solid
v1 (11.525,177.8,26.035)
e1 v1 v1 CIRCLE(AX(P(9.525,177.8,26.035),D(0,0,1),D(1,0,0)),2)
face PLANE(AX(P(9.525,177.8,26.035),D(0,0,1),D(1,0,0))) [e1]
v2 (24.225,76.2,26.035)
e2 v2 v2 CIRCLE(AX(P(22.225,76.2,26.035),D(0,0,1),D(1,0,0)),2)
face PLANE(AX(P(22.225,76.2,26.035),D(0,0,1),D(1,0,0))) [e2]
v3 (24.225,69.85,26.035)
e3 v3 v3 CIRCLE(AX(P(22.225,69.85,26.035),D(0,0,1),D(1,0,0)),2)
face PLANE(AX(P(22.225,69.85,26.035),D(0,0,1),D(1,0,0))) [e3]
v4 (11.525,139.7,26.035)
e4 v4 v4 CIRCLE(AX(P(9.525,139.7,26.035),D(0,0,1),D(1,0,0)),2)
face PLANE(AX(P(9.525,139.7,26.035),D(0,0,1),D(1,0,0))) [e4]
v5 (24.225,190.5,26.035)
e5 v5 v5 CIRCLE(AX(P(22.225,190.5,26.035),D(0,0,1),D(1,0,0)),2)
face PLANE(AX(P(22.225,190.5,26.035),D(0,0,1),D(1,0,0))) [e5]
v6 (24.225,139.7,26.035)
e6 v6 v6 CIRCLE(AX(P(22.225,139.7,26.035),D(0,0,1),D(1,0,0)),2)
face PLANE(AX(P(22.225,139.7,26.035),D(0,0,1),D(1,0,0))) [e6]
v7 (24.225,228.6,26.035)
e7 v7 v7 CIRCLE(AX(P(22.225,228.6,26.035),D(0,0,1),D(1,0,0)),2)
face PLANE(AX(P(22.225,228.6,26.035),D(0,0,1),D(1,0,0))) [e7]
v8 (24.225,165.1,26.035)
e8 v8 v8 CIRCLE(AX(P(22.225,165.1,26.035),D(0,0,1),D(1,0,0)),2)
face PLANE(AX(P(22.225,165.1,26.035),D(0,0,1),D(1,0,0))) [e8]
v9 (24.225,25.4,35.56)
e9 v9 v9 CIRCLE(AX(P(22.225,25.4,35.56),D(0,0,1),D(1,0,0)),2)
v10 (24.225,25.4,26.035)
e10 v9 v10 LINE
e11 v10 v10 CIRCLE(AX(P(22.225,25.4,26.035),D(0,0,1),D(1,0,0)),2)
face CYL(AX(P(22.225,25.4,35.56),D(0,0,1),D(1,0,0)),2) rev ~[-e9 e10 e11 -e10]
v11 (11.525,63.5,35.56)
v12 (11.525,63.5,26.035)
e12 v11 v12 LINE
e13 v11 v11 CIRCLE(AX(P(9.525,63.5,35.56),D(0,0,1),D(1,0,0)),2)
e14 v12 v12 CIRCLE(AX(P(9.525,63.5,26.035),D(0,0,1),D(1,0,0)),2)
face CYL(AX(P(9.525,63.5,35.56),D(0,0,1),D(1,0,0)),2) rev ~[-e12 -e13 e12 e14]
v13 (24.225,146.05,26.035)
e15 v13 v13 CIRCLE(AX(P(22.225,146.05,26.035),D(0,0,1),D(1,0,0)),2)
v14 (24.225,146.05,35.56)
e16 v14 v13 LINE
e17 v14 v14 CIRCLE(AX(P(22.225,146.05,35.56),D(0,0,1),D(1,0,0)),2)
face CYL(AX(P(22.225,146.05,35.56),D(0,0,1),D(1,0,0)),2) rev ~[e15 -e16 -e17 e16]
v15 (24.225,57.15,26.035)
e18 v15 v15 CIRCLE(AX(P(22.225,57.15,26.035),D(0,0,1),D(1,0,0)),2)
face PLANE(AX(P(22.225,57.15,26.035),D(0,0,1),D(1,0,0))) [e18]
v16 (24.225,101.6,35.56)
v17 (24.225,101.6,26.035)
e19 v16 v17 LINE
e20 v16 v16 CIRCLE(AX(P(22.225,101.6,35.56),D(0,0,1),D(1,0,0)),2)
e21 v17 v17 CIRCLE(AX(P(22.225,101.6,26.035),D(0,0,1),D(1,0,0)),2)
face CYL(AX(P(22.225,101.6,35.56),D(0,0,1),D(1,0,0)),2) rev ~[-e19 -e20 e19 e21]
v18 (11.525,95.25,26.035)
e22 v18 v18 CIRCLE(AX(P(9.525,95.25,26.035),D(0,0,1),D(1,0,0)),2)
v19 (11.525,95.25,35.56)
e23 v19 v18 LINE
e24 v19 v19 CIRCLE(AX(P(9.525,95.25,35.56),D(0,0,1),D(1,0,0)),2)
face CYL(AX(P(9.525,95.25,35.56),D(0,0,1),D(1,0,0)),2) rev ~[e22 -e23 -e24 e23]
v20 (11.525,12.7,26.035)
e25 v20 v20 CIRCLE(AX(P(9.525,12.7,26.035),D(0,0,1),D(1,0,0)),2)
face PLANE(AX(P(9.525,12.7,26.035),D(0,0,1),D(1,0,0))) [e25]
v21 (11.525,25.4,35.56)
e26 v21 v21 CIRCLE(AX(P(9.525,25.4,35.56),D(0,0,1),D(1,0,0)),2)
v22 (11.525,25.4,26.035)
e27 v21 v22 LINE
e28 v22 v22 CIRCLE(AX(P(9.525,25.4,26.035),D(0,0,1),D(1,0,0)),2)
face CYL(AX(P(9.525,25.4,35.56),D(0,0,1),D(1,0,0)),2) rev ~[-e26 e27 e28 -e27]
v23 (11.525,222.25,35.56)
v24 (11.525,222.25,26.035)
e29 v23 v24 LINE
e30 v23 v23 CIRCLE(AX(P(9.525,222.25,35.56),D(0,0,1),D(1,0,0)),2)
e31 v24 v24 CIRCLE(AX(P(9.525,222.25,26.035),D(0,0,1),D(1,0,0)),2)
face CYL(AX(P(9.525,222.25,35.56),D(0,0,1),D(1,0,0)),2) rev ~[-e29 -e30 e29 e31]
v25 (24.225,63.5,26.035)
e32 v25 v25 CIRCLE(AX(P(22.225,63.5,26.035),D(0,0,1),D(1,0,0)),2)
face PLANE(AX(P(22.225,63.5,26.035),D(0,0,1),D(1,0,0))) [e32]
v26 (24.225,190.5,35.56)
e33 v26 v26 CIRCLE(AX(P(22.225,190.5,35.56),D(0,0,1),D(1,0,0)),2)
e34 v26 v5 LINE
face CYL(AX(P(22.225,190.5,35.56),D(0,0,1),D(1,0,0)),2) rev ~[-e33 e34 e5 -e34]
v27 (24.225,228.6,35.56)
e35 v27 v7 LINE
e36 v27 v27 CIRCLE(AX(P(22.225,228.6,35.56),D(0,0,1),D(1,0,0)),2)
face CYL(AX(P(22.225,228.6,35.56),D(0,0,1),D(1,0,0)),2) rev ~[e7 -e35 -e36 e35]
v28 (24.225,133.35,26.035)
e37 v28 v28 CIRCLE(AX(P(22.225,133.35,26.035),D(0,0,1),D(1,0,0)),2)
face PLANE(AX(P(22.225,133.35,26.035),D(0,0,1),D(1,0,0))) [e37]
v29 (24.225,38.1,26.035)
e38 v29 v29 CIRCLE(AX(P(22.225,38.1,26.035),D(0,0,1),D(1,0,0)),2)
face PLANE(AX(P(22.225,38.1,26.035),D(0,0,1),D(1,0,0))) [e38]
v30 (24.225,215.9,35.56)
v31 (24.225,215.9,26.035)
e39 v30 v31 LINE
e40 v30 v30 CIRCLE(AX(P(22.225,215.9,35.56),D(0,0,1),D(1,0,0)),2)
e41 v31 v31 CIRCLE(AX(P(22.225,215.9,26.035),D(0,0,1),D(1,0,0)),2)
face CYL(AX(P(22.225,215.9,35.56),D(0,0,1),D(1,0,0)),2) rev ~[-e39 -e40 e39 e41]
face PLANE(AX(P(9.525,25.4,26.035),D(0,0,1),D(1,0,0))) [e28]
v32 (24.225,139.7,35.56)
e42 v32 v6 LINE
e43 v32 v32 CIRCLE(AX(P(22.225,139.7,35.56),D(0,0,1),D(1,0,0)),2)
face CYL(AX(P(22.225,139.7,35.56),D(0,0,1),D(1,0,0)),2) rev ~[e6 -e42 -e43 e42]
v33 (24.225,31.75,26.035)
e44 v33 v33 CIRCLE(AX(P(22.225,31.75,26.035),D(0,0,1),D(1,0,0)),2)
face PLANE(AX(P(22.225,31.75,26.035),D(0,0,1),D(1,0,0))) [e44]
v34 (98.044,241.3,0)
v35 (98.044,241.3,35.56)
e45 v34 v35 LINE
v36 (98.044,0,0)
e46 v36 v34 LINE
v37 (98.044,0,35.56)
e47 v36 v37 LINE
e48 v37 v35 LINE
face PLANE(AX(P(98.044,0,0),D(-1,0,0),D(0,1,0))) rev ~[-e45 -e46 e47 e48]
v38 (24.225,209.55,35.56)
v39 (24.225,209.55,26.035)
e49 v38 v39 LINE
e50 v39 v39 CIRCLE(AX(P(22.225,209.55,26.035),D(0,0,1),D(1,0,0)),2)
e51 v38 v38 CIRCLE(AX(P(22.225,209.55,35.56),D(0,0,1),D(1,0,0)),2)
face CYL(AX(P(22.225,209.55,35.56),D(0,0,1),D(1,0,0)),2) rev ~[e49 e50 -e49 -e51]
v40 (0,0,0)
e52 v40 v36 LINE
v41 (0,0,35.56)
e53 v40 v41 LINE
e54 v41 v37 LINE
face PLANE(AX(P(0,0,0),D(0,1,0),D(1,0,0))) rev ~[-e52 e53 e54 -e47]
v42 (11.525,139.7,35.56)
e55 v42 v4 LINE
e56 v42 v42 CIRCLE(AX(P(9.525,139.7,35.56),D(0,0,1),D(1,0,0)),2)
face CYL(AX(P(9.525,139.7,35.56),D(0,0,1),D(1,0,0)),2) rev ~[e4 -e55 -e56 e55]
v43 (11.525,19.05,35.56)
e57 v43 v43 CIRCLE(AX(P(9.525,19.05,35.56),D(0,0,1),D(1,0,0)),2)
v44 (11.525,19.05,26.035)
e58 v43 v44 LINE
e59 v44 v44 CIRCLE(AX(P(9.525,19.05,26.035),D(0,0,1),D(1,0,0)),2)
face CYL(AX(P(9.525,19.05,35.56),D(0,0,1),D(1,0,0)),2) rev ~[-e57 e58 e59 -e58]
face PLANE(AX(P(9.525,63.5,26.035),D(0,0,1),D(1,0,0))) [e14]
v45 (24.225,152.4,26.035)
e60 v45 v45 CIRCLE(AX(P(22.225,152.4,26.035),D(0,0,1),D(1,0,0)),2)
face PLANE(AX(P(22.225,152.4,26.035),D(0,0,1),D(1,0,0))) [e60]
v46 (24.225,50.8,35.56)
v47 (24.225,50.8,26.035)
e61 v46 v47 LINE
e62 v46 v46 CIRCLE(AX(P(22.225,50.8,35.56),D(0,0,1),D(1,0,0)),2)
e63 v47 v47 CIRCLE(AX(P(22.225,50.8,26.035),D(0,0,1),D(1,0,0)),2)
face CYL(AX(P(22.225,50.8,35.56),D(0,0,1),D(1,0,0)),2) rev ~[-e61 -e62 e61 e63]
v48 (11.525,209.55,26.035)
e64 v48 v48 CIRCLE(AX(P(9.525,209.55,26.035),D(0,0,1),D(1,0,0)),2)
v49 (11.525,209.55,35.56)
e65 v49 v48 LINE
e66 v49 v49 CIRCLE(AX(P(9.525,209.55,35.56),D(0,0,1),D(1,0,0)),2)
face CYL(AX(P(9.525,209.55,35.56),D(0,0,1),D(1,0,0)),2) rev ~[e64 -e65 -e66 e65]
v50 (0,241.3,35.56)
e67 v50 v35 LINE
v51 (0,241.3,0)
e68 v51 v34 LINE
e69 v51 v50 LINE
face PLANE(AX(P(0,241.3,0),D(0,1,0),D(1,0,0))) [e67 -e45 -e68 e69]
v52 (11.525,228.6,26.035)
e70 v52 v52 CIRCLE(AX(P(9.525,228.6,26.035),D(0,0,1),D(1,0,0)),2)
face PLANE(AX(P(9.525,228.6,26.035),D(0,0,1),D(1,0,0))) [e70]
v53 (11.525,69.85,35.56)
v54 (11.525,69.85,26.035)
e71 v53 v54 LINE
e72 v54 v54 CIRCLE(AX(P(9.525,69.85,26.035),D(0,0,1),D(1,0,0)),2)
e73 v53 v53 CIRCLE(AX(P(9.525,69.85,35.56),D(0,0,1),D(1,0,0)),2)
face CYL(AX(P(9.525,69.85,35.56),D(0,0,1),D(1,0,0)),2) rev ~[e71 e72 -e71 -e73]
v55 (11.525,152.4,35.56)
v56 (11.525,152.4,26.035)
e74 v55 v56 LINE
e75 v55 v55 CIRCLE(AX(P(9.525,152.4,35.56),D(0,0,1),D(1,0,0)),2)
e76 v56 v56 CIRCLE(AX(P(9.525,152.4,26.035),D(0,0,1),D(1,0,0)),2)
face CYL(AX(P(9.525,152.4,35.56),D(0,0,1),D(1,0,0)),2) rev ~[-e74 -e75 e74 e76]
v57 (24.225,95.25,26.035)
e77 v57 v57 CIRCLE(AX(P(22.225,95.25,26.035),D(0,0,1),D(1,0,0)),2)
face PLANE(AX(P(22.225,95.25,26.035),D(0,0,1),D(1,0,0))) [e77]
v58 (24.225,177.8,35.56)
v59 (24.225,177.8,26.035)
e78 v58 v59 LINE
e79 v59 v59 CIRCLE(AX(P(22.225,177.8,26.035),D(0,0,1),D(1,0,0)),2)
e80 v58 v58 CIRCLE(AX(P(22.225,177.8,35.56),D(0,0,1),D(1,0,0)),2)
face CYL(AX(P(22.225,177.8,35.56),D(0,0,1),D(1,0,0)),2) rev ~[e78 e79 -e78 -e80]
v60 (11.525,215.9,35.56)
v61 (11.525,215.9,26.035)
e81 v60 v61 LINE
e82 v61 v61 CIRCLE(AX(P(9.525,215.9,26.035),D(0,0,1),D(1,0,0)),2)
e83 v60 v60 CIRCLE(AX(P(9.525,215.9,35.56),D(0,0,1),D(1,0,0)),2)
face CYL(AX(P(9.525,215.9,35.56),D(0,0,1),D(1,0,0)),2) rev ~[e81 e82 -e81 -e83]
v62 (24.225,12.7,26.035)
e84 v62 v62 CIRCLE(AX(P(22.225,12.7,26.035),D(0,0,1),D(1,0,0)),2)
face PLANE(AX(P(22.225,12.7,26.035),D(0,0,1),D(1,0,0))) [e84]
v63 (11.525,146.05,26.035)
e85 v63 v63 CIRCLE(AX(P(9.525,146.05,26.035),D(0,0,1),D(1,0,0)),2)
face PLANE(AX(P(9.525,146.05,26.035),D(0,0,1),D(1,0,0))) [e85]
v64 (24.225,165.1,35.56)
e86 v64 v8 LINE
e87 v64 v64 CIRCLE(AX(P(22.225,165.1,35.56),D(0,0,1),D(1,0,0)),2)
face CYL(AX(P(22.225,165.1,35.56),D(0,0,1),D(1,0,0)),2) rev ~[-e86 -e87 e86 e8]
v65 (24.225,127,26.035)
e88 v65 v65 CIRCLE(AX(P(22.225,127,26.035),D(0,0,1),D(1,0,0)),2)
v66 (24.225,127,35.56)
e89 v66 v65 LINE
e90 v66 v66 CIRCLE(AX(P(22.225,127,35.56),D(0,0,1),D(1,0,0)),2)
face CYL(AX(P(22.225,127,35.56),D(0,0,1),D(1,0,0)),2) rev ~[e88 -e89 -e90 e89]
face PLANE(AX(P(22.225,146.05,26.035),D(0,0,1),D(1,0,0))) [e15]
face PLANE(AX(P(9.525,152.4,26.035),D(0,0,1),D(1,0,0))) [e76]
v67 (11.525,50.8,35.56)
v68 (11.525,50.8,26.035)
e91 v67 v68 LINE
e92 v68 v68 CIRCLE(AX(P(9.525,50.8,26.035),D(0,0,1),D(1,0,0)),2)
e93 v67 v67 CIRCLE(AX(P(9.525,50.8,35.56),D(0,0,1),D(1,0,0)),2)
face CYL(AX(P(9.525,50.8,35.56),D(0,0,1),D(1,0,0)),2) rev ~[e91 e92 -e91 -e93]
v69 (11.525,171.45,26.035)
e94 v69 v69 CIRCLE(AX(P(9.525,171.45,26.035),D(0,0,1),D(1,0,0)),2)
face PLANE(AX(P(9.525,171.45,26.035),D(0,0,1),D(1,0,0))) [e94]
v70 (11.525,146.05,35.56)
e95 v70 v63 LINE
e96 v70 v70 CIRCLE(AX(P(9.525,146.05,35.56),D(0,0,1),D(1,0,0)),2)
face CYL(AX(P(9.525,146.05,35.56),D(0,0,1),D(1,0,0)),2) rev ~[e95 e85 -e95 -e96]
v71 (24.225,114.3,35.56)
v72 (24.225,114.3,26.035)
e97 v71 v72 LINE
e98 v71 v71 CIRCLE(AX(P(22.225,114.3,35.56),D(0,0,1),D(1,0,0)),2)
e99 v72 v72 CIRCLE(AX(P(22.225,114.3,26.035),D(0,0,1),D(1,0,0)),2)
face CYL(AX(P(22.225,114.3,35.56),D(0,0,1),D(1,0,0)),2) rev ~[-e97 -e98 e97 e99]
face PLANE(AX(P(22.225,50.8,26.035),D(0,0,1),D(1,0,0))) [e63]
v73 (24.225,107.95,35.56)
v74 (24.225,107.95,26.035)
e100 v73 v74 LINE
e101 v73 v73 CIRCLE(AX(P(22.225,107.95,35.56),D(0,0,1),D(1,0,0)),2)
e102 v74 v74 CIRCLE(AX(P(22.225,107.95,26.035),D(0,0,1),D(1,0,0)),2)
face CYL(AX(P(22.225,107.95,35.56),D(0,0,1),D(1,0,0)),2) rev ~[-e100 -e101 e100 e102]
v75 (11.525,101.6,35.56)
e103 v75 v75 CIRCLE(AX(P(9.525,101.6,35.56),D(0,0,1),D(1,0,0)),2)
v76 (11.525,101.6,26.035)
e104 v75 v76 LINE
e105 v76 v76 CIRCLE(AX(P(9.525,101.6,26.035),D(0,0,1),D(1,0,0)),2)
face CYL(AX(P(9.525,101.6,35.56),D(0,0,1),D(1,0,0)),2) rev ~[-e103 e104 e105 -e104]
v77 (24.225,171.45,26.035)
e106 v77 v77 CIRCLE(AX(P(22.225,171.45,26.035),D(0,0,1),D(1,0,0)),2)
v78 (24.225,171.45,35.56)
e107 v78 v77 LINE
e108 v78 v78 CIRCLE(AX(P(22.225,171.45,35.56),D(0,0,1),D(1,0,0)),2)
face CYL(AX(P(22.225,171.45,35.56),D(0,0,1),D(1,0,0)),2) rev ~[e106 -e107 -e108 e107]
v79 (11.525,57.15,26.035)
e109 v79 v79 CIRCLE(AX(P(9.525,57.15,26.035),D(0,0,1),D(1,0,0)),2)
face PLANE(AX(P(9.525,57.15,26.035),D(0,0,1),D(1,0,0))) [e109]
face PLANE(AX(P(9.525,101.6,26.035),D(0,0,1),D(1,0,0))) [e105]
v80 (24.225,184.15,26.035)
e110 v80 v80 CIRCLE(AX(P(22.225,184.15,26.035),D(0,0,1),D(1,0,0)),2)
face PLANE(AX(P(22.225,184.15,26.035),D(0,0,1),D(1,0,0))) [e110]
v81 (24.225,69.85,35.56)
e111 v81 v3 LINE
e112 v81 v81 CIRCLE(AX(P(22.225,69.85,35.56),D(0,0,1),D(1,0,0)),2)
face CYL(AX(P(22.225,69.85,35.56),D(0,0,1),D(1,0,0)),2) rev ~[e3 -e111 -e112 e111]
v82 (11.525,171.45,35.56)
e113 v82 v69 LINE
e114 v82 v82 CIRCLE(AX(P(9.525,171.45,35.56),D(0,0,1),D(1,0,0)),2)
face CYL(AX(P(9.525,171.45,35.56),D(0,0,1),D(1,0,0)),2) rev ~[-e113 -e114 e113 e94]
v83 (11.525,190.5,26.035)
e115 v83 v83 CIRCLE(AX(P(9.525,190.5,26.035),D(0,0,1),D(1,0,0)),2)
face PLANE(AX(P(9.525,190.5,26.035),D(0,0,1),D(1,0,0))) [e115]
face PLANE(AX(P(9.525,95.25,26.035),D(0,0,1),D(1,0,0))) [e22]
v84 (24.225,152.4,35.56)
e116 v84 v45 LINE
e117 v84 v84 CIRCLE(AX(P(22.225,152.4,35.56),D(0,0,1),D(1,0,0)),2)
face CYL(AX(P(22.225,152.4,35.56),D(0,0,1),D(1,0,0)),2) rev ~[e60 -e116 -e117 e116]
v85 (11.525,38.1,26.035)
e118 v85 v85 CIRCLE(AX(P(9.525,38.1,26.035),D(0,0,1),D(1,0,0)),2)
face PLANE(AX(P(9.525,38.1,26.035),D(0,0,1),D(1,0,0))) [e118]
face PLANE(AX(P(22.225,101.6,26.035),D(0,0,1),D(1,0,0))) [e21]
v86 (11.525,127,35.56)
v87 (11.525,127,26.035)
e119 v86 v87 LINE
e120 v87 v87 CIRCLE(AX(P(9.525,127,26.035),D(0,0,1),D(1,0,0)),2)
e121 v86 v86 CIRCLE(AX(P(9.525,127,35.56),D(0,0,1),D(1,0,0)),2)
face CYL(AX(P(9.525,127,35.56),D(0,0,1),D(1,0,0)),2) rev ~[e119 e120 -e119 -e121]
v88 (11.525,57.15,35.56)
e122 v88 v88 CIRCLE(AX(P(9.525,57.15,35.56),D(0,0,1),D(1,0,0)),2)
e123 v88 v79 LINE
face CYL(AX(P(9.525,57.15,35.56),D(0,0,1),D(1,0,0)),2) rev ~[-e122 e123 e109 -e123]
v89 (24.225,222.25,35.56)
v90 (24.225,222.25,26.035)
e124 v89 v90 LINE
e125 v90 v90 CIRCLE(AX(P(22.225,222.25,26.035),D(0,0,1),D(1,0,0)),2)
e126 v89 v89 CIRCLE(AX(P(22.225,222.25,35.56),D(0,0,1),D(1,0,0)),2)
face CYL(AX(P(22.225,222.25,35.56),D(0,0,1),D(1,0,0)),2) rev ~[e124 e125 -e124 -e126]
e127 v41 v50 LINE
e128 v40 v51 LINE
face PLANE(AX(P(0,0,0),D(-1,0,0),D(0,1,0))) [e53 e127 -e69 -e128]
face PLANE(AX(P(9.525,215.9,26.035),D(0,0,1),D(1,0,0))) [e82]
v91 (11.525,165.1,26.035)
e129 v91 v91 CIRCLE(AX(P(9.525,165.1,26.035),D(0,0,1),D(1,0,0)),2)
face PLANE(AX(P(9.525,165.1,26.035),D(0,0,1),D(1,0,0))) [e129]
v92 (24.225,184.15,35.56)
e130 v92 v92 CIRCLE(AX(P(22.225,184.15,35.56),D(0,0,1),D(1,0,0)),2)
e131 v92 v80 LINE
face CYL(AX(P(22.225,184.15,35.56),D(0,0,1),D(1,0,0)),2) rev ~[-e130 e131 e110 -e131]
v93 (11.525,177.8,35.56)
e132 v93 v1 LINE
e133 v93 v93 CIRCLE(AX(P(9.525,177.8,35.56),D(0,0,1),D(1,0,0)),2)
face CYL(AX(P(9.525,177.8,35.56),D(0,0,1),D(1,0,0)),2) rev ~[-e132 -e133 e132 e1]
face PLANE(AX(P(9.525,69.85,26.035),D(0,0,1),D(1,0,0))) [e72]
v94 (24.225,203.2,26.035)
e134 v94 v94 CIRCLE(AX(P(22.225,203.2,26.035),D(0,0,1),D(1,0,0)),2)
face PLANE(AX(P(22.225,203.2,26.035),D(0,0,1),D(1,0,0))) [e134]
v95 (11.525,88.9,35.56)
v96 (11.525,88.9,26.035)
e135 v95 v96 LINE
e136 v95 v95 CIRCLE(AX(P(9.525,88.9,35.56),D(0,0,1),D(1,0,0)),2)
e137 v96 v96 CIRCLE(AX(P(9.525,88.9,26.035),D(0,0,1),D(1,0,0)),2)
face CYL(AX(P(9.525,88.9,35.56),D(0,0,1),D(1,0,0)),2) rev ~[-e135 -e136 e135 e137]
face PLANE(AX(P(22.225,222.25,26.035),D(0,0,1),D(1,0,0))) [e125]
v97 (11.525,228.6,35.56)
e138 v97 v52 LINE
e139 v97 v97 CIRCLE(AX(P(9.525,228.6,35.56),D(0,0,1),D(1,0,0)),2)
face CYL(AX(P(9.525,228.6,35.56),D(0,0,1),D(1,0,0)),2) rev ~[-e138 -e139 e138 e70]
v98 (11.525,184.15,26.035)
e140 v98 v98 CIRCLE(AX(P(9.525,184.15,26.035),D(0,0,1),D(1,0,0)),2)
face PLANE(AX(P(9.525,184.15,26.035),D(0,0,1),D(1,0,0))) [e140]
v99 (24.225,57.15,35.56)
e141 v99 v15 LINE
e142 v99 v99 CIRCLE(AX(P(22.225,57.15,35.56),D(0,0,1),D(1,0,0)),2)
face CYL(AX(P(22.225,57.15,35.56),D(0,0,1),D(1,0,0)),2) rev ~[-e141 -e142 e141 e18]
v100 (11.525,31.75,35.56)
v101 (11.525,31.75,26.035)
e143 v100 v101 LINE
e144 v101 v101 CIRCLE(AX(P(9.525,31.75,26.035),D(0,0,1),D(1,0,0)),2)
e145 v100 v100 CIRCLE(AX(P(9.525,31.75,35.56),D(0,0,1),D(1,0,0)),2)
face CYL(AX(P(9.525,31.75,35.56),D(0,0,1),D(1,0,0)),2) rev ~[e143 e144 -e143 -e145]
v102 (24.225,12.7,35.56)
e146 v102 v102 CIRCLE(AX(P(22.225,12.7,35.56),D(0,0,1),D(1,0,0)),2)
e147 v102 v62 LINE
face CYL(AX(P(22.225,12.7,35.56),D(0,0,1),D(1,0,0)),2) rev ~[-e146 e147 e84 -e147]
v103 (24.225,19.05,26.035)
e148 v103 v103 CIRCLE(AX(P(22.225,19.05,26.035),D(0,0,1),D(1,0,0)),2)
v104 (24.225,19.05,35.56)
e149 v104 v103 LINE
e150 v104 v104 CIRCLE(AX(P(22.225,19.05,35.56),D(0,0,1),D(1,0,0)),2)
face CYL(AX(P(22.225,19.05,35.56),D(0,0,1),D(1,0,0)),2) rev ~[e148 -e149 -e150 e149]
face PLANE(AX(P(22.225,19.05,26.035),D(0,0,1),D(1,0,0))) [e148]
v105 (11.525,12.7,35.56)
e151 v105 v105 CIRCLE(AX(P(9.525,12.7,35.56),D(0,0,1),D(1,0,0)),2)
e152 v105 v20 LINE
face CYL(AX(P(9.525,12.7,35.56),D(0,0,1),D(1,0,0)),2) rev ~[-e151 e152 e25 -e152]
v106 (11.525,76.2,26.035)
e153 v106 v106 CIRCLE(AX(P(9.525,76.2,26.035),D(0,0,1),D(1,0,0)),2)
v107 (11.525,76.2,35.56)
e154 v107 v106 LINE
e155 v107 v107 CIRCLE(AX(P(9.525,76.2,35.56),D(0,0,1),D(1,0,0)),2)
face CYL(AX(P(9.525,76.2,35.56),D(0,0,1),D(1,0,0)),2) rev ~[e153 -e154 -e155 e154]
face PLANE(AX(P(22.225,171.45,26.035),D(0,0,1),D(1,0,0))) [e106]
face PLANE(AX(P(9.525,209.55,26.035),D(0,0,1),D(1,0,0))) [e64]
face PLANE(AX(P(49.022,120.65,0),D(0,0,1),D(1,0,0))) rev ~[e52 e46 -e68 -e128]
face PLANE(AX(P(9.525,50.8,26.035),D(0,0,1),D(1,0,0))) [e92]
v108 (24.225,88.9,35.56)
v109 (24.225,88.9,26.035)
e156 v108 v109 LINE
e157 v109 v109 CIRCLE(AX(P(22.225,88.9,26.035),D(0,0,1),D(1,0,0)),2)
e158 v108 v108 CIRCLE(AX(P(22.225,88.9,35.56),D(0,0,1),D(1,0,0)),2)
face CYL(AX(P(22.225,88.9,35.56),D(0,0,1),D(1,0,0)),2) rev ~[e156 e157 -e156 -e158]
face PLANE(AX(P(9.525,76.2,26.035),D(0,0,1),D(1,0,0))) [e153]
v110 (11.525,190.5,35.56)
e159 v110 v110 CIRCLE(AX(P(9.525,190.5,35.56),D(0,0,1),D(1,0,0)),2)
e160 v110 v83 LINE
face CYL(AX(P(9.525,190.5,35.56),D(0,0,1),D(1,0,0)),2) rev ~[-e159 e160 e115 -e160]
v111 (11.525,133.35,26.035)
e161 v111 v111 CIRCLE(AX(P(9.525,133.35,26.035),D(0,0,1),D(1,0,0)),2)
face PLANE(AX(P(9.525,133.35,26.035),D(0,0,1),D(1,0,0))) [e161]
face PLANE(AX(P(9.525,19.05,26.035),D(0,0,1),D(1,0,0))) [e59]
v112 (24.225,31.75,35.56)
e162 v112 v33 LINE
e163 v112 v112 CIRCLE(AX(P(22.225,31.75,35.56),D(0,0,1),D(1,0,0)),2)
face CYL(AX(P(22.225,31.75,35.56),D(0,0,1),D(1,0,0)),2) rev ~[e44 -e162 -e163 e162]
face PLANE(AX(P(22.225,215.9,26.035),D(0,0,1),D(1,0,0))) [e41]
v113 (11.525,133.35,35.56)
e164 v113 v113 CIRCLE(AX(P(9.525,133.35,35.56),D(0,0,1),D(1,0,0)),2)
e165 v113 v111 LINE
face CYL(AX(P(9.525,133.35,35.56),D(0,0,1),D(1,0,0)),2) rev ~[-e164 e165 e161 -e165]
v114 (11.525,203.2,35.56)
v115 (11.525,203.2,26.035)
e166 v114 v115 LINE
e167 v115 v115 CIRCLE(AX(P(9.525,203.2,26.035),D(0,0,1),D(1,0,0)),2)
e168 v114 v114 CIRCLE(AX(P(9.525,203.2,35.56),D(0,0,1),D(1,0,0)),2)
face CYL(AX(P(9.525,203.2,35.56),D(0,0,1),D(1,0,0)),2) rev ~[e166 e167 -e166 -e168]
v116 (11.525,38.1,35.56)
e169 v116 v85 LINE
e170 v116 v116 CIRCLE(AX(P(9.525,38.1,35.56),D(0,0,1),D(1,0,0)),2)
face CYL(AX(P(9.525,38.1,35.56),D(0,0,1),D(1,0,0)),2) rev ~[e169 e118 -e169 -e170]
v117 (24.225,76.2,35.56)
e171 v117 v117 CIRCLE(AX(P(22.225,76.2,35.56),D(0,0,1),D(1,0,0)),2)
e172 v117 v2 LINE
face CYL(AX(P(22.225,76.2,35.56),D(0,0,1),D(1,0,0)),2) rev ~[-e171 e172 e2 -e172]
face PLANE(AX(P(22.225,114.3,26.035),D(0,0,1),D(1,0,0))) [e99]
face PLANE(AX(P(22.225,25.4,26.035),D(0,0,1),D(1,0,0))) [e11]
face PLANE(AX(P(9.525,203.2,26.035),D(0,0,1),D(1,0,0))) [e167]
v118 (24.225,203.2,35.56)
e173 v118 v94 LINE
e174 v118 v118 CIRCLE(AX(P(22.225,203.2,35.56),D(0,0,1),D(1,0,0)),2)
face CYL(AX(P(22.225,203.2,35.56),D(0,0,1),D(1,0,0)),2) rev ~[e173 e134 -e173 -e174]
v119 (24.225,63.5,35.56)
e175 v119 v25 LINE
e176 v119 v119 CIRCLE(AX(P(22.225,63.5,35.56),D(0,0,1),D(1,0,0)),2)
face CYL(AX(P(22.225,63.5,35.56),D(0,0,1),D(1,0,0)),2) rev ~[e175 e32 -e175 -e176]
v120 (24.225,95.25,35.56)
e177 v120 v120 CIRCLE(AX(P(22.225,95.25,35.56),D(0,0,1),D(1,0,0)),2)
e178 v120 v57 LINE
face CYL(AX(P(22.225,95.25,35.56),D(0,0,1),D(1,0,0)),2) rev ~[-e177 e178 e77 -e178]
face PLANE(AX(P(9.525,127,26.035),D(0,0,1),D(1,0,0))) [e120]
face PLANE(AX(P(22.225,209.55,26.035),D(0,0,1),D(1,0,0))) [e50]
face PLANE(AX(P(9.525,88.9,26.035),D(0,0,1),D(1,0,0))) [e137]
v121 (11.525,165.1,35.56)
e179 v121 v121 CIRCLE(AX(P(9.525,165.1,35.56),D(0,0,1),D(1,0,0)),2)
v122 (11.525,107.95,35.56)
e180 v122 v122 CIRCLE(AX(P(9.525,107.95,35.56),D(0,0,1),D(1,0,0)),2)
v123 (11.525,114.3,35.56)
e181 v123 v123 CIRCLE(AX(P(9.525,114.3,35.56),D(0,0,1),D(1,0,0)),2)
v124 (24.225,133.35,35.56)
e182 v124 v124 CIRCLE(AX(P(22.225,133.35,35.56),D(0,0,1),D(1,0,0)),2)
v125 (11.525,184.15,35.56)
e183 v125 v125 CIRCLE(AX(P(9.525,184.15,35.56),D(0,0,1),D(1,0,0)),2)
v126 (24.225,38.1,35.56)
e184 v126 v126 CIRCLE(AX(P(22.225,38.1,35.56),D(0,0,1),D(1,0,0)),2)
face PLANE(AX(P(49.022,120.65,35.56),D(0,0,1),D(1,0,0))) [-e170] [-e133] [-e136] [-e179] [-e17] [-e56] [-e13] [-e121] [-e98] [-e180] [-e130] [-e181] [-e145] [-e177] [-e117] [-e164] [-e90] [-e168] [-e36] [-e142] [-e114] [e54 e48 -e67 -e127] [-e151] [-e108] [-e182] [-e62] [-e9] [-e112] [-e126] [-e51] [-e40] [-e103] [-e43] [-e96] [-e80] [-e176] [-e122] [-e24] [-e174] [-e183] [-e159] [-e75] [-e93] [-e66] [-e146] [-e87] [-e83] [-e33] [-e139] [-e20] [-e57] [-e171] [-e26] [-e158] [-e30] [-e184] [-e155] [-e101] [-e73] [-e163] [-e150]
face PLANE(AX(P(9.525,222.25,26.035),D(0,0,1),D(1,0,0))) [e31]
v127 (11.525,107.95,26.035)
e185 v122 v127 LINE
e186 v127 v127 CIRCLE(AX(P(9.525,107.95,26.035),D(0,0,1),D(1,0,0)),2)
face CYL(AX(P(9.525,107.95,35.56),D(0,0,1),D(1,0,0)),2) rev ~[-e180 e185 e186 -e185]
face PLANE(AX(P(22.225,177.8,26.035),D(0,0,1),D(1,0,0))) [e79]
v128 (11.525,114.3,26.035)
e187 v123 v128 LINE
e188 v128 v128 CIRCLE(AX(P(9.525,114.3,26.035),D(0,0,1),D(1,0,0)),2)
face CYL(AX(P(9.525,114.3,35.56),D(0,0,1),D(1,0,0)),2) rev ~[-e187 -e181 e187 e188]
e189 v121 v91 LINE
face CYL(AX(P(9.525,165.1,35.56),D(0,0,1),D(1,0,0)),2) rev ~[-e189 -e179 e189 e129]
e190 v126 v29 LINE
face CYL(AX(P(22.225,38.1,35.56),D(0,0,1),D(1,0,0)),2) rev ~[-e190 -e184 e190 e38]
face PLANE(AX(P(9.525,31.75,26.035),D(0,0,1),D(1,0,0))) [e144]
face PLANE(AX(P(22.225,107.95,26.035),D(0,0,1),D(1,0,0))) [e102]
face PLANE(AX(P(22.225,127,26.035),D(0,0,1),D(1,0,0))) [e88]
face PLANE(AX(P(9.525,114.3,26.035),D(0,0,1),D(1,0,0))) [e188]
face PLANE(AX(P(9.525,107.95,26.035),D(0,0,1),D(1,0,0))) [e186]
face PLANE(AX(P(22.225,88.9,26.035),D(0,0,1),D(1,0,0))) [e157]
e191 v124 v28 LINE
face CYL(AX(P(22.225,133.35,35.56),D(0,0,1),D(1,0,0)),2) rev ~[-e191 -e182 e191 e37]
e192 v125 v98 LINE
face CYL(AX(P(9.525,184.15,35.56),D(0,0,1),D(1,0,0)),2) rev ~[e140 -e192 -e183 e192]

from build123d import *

# Parameters (mm, degrees)
F0_W     = 98.044
F0_H     = 241.3
F1_DEPTH = 35.56
F2_R     = 2
F3_DEPTH = 9.525


with BuildPart() as f1:
    # F0 (on Top) → F1 (new body)
    with BuildSketch(Plane.XY):
        with Locations((49.022, 120.65)):
            Rectangle(F0_W, F0_H)
    extrude(amount=F1_DEPTH)

    # F2 (on face) → F3 (cut)
    with BuildSketch(Plane.XY.offset(35.56)):
        with Locations((9.525, 12.7)):
            Circle(F2_R)
        with Locations((9.525, 19.05)):
            Circle(F2_R)
        with Locations((9.525, 25.4)):
            Circle(F2_R)
        with Locations((9.525, 31.75)):
            Circle(F2_R)
        with Locations((9.525, 38.1)):
            Circle(F2_R)
        with Locations((22.225, 38.1)):
            Circle(F2_R)
        with Locations((22.225, 31.75)):
            Circle(F2_R)
        with Locations((22.225, 25.4)):
            Circle(F2_R)
        with Locations((22.225, 19.05)):
            Circle(F2_R)
        with Locations((22.225, 12.7)):
            Circle(F2_R)
        with Locations((9.525, 76.2)):
            Circle(F2_R)
        with Locations((9.525, 69.85)):
            Circle(F2_R)
        with Locations((9.525, 63.5)):
            Circle(F2_R)
        with Locations((9.525, 57.15)):
            Circle(F2_R)
        with Locations((9.525, 50.8)):
            Circle(F2_R)
        with Locations((22.225, 50.8)):
            Circle(F2_R)
        with Locations((22.225, 57.15)):
            Circle(F2_R)
        with Locations((22.225, 63.5)):
            Circle(F2_R)
        with Locations((22.225, 76.2)):
            Circle(F2_R)
        with Locations((22.225, 69.85)):
            Circle(F2_R)
        with Locations((9.525, 114.3)):
            Circle(F2_R)
        with Locations((9.525, 107.95)):
            Circle(F2_R)
        with Locations((9.525, 101.6)):
            Circle(F2_R)
        with Locations((9.525, 95.25)):
            Circle(F2_R)
        with Locations((9.525, 88.9)):
            Circle(F2_R)
        with Locations((22.225, 88.9)):
            Circle(F2_R)
        with Locations((22.225, 95.25)):
            Circle(F2_R)
        with Locations((22.225, 101.6)):
            Circle(F2_R)
        with Locations((22.225, 114.3)):
            Circle(F2_R)
        with Locations((22.225, 107.95)):
            Circle(F2_R)
        with Locations((9.525, 152.4)):
            Circle(F2_R)
        with Locations((9.525, 146.05)):
            Circle(F2_R)
        with Locations((9.525, 139.7)):
            Circle(F2_R)
        with Locations((9.525, 133.35)):
            Circle(F2_R)
        with Locations((9.525, 127)):
            Circle(F2_R)
        with Locations((22.225, 127)):
            Circle(F2_R)
        with Locations((22.225, 133.35)):
            Circle(F2_R)
        with Locations((22.225, 139.7)):
            Circle(F2_R)
        with Locations((22.225, 152.4)):
            Circle(F2_R)
        with Locations((22.225, 146.05)):
            Circle(F2_R)
        with Locations((9.525, 190.5)):
            Circle(F2_R)
        with Locations((9.525, 184.15)):
            Circle(F2_R)
        with Locations((9.525, 177.8)):
            Circle(F2_R)
        with Locations((9.525, 171.45)):
            Circle(F2_R)
        with Locations((9.525, 165.1)):
            Circle(F2_R)
        with Locations((22.225, 165.1)):
            Circle(F2_R)
        with Locations((22.225, 171.45)):
            Circle(F2_R)
        with Locations((22.225, 177.8)):
            Circle(F2_R)
        with Locations((22.225, 190.5)):
            Circle(F2_R)
        with Locations((22.225, 184.15)):
            Circle(F2_R)
        with Locations((9.525, 228.6)):
            Circle(F2_R)
        with Locations((9.525, 222.25)):
            Circle(F2_R)
        with Locations((9.525, 215.9)):
            Circle(F2_R)
        with Locations((9.525, 209.55)):
            Circle(F2_R)
        with Locations((9.525, 203.2)):
            Circle(F2_R)
        with Locations((22.225, 203.2)):
            Circle(F2_R)
        with Locations((22.225, 209.55)):
            Circle(F2_R)
        with Locations((22.225, 215.9)):
            Circle(F2_R)
        with Locations((22.225, 228.6)):
            Circle(F2_R)
        with Locations((22.225, 222.25)):
            Circle(F2_R)
    extrude(amount=-F3_DEPTH, mode=Mode.SUBTRACT)


solid = f1.part
